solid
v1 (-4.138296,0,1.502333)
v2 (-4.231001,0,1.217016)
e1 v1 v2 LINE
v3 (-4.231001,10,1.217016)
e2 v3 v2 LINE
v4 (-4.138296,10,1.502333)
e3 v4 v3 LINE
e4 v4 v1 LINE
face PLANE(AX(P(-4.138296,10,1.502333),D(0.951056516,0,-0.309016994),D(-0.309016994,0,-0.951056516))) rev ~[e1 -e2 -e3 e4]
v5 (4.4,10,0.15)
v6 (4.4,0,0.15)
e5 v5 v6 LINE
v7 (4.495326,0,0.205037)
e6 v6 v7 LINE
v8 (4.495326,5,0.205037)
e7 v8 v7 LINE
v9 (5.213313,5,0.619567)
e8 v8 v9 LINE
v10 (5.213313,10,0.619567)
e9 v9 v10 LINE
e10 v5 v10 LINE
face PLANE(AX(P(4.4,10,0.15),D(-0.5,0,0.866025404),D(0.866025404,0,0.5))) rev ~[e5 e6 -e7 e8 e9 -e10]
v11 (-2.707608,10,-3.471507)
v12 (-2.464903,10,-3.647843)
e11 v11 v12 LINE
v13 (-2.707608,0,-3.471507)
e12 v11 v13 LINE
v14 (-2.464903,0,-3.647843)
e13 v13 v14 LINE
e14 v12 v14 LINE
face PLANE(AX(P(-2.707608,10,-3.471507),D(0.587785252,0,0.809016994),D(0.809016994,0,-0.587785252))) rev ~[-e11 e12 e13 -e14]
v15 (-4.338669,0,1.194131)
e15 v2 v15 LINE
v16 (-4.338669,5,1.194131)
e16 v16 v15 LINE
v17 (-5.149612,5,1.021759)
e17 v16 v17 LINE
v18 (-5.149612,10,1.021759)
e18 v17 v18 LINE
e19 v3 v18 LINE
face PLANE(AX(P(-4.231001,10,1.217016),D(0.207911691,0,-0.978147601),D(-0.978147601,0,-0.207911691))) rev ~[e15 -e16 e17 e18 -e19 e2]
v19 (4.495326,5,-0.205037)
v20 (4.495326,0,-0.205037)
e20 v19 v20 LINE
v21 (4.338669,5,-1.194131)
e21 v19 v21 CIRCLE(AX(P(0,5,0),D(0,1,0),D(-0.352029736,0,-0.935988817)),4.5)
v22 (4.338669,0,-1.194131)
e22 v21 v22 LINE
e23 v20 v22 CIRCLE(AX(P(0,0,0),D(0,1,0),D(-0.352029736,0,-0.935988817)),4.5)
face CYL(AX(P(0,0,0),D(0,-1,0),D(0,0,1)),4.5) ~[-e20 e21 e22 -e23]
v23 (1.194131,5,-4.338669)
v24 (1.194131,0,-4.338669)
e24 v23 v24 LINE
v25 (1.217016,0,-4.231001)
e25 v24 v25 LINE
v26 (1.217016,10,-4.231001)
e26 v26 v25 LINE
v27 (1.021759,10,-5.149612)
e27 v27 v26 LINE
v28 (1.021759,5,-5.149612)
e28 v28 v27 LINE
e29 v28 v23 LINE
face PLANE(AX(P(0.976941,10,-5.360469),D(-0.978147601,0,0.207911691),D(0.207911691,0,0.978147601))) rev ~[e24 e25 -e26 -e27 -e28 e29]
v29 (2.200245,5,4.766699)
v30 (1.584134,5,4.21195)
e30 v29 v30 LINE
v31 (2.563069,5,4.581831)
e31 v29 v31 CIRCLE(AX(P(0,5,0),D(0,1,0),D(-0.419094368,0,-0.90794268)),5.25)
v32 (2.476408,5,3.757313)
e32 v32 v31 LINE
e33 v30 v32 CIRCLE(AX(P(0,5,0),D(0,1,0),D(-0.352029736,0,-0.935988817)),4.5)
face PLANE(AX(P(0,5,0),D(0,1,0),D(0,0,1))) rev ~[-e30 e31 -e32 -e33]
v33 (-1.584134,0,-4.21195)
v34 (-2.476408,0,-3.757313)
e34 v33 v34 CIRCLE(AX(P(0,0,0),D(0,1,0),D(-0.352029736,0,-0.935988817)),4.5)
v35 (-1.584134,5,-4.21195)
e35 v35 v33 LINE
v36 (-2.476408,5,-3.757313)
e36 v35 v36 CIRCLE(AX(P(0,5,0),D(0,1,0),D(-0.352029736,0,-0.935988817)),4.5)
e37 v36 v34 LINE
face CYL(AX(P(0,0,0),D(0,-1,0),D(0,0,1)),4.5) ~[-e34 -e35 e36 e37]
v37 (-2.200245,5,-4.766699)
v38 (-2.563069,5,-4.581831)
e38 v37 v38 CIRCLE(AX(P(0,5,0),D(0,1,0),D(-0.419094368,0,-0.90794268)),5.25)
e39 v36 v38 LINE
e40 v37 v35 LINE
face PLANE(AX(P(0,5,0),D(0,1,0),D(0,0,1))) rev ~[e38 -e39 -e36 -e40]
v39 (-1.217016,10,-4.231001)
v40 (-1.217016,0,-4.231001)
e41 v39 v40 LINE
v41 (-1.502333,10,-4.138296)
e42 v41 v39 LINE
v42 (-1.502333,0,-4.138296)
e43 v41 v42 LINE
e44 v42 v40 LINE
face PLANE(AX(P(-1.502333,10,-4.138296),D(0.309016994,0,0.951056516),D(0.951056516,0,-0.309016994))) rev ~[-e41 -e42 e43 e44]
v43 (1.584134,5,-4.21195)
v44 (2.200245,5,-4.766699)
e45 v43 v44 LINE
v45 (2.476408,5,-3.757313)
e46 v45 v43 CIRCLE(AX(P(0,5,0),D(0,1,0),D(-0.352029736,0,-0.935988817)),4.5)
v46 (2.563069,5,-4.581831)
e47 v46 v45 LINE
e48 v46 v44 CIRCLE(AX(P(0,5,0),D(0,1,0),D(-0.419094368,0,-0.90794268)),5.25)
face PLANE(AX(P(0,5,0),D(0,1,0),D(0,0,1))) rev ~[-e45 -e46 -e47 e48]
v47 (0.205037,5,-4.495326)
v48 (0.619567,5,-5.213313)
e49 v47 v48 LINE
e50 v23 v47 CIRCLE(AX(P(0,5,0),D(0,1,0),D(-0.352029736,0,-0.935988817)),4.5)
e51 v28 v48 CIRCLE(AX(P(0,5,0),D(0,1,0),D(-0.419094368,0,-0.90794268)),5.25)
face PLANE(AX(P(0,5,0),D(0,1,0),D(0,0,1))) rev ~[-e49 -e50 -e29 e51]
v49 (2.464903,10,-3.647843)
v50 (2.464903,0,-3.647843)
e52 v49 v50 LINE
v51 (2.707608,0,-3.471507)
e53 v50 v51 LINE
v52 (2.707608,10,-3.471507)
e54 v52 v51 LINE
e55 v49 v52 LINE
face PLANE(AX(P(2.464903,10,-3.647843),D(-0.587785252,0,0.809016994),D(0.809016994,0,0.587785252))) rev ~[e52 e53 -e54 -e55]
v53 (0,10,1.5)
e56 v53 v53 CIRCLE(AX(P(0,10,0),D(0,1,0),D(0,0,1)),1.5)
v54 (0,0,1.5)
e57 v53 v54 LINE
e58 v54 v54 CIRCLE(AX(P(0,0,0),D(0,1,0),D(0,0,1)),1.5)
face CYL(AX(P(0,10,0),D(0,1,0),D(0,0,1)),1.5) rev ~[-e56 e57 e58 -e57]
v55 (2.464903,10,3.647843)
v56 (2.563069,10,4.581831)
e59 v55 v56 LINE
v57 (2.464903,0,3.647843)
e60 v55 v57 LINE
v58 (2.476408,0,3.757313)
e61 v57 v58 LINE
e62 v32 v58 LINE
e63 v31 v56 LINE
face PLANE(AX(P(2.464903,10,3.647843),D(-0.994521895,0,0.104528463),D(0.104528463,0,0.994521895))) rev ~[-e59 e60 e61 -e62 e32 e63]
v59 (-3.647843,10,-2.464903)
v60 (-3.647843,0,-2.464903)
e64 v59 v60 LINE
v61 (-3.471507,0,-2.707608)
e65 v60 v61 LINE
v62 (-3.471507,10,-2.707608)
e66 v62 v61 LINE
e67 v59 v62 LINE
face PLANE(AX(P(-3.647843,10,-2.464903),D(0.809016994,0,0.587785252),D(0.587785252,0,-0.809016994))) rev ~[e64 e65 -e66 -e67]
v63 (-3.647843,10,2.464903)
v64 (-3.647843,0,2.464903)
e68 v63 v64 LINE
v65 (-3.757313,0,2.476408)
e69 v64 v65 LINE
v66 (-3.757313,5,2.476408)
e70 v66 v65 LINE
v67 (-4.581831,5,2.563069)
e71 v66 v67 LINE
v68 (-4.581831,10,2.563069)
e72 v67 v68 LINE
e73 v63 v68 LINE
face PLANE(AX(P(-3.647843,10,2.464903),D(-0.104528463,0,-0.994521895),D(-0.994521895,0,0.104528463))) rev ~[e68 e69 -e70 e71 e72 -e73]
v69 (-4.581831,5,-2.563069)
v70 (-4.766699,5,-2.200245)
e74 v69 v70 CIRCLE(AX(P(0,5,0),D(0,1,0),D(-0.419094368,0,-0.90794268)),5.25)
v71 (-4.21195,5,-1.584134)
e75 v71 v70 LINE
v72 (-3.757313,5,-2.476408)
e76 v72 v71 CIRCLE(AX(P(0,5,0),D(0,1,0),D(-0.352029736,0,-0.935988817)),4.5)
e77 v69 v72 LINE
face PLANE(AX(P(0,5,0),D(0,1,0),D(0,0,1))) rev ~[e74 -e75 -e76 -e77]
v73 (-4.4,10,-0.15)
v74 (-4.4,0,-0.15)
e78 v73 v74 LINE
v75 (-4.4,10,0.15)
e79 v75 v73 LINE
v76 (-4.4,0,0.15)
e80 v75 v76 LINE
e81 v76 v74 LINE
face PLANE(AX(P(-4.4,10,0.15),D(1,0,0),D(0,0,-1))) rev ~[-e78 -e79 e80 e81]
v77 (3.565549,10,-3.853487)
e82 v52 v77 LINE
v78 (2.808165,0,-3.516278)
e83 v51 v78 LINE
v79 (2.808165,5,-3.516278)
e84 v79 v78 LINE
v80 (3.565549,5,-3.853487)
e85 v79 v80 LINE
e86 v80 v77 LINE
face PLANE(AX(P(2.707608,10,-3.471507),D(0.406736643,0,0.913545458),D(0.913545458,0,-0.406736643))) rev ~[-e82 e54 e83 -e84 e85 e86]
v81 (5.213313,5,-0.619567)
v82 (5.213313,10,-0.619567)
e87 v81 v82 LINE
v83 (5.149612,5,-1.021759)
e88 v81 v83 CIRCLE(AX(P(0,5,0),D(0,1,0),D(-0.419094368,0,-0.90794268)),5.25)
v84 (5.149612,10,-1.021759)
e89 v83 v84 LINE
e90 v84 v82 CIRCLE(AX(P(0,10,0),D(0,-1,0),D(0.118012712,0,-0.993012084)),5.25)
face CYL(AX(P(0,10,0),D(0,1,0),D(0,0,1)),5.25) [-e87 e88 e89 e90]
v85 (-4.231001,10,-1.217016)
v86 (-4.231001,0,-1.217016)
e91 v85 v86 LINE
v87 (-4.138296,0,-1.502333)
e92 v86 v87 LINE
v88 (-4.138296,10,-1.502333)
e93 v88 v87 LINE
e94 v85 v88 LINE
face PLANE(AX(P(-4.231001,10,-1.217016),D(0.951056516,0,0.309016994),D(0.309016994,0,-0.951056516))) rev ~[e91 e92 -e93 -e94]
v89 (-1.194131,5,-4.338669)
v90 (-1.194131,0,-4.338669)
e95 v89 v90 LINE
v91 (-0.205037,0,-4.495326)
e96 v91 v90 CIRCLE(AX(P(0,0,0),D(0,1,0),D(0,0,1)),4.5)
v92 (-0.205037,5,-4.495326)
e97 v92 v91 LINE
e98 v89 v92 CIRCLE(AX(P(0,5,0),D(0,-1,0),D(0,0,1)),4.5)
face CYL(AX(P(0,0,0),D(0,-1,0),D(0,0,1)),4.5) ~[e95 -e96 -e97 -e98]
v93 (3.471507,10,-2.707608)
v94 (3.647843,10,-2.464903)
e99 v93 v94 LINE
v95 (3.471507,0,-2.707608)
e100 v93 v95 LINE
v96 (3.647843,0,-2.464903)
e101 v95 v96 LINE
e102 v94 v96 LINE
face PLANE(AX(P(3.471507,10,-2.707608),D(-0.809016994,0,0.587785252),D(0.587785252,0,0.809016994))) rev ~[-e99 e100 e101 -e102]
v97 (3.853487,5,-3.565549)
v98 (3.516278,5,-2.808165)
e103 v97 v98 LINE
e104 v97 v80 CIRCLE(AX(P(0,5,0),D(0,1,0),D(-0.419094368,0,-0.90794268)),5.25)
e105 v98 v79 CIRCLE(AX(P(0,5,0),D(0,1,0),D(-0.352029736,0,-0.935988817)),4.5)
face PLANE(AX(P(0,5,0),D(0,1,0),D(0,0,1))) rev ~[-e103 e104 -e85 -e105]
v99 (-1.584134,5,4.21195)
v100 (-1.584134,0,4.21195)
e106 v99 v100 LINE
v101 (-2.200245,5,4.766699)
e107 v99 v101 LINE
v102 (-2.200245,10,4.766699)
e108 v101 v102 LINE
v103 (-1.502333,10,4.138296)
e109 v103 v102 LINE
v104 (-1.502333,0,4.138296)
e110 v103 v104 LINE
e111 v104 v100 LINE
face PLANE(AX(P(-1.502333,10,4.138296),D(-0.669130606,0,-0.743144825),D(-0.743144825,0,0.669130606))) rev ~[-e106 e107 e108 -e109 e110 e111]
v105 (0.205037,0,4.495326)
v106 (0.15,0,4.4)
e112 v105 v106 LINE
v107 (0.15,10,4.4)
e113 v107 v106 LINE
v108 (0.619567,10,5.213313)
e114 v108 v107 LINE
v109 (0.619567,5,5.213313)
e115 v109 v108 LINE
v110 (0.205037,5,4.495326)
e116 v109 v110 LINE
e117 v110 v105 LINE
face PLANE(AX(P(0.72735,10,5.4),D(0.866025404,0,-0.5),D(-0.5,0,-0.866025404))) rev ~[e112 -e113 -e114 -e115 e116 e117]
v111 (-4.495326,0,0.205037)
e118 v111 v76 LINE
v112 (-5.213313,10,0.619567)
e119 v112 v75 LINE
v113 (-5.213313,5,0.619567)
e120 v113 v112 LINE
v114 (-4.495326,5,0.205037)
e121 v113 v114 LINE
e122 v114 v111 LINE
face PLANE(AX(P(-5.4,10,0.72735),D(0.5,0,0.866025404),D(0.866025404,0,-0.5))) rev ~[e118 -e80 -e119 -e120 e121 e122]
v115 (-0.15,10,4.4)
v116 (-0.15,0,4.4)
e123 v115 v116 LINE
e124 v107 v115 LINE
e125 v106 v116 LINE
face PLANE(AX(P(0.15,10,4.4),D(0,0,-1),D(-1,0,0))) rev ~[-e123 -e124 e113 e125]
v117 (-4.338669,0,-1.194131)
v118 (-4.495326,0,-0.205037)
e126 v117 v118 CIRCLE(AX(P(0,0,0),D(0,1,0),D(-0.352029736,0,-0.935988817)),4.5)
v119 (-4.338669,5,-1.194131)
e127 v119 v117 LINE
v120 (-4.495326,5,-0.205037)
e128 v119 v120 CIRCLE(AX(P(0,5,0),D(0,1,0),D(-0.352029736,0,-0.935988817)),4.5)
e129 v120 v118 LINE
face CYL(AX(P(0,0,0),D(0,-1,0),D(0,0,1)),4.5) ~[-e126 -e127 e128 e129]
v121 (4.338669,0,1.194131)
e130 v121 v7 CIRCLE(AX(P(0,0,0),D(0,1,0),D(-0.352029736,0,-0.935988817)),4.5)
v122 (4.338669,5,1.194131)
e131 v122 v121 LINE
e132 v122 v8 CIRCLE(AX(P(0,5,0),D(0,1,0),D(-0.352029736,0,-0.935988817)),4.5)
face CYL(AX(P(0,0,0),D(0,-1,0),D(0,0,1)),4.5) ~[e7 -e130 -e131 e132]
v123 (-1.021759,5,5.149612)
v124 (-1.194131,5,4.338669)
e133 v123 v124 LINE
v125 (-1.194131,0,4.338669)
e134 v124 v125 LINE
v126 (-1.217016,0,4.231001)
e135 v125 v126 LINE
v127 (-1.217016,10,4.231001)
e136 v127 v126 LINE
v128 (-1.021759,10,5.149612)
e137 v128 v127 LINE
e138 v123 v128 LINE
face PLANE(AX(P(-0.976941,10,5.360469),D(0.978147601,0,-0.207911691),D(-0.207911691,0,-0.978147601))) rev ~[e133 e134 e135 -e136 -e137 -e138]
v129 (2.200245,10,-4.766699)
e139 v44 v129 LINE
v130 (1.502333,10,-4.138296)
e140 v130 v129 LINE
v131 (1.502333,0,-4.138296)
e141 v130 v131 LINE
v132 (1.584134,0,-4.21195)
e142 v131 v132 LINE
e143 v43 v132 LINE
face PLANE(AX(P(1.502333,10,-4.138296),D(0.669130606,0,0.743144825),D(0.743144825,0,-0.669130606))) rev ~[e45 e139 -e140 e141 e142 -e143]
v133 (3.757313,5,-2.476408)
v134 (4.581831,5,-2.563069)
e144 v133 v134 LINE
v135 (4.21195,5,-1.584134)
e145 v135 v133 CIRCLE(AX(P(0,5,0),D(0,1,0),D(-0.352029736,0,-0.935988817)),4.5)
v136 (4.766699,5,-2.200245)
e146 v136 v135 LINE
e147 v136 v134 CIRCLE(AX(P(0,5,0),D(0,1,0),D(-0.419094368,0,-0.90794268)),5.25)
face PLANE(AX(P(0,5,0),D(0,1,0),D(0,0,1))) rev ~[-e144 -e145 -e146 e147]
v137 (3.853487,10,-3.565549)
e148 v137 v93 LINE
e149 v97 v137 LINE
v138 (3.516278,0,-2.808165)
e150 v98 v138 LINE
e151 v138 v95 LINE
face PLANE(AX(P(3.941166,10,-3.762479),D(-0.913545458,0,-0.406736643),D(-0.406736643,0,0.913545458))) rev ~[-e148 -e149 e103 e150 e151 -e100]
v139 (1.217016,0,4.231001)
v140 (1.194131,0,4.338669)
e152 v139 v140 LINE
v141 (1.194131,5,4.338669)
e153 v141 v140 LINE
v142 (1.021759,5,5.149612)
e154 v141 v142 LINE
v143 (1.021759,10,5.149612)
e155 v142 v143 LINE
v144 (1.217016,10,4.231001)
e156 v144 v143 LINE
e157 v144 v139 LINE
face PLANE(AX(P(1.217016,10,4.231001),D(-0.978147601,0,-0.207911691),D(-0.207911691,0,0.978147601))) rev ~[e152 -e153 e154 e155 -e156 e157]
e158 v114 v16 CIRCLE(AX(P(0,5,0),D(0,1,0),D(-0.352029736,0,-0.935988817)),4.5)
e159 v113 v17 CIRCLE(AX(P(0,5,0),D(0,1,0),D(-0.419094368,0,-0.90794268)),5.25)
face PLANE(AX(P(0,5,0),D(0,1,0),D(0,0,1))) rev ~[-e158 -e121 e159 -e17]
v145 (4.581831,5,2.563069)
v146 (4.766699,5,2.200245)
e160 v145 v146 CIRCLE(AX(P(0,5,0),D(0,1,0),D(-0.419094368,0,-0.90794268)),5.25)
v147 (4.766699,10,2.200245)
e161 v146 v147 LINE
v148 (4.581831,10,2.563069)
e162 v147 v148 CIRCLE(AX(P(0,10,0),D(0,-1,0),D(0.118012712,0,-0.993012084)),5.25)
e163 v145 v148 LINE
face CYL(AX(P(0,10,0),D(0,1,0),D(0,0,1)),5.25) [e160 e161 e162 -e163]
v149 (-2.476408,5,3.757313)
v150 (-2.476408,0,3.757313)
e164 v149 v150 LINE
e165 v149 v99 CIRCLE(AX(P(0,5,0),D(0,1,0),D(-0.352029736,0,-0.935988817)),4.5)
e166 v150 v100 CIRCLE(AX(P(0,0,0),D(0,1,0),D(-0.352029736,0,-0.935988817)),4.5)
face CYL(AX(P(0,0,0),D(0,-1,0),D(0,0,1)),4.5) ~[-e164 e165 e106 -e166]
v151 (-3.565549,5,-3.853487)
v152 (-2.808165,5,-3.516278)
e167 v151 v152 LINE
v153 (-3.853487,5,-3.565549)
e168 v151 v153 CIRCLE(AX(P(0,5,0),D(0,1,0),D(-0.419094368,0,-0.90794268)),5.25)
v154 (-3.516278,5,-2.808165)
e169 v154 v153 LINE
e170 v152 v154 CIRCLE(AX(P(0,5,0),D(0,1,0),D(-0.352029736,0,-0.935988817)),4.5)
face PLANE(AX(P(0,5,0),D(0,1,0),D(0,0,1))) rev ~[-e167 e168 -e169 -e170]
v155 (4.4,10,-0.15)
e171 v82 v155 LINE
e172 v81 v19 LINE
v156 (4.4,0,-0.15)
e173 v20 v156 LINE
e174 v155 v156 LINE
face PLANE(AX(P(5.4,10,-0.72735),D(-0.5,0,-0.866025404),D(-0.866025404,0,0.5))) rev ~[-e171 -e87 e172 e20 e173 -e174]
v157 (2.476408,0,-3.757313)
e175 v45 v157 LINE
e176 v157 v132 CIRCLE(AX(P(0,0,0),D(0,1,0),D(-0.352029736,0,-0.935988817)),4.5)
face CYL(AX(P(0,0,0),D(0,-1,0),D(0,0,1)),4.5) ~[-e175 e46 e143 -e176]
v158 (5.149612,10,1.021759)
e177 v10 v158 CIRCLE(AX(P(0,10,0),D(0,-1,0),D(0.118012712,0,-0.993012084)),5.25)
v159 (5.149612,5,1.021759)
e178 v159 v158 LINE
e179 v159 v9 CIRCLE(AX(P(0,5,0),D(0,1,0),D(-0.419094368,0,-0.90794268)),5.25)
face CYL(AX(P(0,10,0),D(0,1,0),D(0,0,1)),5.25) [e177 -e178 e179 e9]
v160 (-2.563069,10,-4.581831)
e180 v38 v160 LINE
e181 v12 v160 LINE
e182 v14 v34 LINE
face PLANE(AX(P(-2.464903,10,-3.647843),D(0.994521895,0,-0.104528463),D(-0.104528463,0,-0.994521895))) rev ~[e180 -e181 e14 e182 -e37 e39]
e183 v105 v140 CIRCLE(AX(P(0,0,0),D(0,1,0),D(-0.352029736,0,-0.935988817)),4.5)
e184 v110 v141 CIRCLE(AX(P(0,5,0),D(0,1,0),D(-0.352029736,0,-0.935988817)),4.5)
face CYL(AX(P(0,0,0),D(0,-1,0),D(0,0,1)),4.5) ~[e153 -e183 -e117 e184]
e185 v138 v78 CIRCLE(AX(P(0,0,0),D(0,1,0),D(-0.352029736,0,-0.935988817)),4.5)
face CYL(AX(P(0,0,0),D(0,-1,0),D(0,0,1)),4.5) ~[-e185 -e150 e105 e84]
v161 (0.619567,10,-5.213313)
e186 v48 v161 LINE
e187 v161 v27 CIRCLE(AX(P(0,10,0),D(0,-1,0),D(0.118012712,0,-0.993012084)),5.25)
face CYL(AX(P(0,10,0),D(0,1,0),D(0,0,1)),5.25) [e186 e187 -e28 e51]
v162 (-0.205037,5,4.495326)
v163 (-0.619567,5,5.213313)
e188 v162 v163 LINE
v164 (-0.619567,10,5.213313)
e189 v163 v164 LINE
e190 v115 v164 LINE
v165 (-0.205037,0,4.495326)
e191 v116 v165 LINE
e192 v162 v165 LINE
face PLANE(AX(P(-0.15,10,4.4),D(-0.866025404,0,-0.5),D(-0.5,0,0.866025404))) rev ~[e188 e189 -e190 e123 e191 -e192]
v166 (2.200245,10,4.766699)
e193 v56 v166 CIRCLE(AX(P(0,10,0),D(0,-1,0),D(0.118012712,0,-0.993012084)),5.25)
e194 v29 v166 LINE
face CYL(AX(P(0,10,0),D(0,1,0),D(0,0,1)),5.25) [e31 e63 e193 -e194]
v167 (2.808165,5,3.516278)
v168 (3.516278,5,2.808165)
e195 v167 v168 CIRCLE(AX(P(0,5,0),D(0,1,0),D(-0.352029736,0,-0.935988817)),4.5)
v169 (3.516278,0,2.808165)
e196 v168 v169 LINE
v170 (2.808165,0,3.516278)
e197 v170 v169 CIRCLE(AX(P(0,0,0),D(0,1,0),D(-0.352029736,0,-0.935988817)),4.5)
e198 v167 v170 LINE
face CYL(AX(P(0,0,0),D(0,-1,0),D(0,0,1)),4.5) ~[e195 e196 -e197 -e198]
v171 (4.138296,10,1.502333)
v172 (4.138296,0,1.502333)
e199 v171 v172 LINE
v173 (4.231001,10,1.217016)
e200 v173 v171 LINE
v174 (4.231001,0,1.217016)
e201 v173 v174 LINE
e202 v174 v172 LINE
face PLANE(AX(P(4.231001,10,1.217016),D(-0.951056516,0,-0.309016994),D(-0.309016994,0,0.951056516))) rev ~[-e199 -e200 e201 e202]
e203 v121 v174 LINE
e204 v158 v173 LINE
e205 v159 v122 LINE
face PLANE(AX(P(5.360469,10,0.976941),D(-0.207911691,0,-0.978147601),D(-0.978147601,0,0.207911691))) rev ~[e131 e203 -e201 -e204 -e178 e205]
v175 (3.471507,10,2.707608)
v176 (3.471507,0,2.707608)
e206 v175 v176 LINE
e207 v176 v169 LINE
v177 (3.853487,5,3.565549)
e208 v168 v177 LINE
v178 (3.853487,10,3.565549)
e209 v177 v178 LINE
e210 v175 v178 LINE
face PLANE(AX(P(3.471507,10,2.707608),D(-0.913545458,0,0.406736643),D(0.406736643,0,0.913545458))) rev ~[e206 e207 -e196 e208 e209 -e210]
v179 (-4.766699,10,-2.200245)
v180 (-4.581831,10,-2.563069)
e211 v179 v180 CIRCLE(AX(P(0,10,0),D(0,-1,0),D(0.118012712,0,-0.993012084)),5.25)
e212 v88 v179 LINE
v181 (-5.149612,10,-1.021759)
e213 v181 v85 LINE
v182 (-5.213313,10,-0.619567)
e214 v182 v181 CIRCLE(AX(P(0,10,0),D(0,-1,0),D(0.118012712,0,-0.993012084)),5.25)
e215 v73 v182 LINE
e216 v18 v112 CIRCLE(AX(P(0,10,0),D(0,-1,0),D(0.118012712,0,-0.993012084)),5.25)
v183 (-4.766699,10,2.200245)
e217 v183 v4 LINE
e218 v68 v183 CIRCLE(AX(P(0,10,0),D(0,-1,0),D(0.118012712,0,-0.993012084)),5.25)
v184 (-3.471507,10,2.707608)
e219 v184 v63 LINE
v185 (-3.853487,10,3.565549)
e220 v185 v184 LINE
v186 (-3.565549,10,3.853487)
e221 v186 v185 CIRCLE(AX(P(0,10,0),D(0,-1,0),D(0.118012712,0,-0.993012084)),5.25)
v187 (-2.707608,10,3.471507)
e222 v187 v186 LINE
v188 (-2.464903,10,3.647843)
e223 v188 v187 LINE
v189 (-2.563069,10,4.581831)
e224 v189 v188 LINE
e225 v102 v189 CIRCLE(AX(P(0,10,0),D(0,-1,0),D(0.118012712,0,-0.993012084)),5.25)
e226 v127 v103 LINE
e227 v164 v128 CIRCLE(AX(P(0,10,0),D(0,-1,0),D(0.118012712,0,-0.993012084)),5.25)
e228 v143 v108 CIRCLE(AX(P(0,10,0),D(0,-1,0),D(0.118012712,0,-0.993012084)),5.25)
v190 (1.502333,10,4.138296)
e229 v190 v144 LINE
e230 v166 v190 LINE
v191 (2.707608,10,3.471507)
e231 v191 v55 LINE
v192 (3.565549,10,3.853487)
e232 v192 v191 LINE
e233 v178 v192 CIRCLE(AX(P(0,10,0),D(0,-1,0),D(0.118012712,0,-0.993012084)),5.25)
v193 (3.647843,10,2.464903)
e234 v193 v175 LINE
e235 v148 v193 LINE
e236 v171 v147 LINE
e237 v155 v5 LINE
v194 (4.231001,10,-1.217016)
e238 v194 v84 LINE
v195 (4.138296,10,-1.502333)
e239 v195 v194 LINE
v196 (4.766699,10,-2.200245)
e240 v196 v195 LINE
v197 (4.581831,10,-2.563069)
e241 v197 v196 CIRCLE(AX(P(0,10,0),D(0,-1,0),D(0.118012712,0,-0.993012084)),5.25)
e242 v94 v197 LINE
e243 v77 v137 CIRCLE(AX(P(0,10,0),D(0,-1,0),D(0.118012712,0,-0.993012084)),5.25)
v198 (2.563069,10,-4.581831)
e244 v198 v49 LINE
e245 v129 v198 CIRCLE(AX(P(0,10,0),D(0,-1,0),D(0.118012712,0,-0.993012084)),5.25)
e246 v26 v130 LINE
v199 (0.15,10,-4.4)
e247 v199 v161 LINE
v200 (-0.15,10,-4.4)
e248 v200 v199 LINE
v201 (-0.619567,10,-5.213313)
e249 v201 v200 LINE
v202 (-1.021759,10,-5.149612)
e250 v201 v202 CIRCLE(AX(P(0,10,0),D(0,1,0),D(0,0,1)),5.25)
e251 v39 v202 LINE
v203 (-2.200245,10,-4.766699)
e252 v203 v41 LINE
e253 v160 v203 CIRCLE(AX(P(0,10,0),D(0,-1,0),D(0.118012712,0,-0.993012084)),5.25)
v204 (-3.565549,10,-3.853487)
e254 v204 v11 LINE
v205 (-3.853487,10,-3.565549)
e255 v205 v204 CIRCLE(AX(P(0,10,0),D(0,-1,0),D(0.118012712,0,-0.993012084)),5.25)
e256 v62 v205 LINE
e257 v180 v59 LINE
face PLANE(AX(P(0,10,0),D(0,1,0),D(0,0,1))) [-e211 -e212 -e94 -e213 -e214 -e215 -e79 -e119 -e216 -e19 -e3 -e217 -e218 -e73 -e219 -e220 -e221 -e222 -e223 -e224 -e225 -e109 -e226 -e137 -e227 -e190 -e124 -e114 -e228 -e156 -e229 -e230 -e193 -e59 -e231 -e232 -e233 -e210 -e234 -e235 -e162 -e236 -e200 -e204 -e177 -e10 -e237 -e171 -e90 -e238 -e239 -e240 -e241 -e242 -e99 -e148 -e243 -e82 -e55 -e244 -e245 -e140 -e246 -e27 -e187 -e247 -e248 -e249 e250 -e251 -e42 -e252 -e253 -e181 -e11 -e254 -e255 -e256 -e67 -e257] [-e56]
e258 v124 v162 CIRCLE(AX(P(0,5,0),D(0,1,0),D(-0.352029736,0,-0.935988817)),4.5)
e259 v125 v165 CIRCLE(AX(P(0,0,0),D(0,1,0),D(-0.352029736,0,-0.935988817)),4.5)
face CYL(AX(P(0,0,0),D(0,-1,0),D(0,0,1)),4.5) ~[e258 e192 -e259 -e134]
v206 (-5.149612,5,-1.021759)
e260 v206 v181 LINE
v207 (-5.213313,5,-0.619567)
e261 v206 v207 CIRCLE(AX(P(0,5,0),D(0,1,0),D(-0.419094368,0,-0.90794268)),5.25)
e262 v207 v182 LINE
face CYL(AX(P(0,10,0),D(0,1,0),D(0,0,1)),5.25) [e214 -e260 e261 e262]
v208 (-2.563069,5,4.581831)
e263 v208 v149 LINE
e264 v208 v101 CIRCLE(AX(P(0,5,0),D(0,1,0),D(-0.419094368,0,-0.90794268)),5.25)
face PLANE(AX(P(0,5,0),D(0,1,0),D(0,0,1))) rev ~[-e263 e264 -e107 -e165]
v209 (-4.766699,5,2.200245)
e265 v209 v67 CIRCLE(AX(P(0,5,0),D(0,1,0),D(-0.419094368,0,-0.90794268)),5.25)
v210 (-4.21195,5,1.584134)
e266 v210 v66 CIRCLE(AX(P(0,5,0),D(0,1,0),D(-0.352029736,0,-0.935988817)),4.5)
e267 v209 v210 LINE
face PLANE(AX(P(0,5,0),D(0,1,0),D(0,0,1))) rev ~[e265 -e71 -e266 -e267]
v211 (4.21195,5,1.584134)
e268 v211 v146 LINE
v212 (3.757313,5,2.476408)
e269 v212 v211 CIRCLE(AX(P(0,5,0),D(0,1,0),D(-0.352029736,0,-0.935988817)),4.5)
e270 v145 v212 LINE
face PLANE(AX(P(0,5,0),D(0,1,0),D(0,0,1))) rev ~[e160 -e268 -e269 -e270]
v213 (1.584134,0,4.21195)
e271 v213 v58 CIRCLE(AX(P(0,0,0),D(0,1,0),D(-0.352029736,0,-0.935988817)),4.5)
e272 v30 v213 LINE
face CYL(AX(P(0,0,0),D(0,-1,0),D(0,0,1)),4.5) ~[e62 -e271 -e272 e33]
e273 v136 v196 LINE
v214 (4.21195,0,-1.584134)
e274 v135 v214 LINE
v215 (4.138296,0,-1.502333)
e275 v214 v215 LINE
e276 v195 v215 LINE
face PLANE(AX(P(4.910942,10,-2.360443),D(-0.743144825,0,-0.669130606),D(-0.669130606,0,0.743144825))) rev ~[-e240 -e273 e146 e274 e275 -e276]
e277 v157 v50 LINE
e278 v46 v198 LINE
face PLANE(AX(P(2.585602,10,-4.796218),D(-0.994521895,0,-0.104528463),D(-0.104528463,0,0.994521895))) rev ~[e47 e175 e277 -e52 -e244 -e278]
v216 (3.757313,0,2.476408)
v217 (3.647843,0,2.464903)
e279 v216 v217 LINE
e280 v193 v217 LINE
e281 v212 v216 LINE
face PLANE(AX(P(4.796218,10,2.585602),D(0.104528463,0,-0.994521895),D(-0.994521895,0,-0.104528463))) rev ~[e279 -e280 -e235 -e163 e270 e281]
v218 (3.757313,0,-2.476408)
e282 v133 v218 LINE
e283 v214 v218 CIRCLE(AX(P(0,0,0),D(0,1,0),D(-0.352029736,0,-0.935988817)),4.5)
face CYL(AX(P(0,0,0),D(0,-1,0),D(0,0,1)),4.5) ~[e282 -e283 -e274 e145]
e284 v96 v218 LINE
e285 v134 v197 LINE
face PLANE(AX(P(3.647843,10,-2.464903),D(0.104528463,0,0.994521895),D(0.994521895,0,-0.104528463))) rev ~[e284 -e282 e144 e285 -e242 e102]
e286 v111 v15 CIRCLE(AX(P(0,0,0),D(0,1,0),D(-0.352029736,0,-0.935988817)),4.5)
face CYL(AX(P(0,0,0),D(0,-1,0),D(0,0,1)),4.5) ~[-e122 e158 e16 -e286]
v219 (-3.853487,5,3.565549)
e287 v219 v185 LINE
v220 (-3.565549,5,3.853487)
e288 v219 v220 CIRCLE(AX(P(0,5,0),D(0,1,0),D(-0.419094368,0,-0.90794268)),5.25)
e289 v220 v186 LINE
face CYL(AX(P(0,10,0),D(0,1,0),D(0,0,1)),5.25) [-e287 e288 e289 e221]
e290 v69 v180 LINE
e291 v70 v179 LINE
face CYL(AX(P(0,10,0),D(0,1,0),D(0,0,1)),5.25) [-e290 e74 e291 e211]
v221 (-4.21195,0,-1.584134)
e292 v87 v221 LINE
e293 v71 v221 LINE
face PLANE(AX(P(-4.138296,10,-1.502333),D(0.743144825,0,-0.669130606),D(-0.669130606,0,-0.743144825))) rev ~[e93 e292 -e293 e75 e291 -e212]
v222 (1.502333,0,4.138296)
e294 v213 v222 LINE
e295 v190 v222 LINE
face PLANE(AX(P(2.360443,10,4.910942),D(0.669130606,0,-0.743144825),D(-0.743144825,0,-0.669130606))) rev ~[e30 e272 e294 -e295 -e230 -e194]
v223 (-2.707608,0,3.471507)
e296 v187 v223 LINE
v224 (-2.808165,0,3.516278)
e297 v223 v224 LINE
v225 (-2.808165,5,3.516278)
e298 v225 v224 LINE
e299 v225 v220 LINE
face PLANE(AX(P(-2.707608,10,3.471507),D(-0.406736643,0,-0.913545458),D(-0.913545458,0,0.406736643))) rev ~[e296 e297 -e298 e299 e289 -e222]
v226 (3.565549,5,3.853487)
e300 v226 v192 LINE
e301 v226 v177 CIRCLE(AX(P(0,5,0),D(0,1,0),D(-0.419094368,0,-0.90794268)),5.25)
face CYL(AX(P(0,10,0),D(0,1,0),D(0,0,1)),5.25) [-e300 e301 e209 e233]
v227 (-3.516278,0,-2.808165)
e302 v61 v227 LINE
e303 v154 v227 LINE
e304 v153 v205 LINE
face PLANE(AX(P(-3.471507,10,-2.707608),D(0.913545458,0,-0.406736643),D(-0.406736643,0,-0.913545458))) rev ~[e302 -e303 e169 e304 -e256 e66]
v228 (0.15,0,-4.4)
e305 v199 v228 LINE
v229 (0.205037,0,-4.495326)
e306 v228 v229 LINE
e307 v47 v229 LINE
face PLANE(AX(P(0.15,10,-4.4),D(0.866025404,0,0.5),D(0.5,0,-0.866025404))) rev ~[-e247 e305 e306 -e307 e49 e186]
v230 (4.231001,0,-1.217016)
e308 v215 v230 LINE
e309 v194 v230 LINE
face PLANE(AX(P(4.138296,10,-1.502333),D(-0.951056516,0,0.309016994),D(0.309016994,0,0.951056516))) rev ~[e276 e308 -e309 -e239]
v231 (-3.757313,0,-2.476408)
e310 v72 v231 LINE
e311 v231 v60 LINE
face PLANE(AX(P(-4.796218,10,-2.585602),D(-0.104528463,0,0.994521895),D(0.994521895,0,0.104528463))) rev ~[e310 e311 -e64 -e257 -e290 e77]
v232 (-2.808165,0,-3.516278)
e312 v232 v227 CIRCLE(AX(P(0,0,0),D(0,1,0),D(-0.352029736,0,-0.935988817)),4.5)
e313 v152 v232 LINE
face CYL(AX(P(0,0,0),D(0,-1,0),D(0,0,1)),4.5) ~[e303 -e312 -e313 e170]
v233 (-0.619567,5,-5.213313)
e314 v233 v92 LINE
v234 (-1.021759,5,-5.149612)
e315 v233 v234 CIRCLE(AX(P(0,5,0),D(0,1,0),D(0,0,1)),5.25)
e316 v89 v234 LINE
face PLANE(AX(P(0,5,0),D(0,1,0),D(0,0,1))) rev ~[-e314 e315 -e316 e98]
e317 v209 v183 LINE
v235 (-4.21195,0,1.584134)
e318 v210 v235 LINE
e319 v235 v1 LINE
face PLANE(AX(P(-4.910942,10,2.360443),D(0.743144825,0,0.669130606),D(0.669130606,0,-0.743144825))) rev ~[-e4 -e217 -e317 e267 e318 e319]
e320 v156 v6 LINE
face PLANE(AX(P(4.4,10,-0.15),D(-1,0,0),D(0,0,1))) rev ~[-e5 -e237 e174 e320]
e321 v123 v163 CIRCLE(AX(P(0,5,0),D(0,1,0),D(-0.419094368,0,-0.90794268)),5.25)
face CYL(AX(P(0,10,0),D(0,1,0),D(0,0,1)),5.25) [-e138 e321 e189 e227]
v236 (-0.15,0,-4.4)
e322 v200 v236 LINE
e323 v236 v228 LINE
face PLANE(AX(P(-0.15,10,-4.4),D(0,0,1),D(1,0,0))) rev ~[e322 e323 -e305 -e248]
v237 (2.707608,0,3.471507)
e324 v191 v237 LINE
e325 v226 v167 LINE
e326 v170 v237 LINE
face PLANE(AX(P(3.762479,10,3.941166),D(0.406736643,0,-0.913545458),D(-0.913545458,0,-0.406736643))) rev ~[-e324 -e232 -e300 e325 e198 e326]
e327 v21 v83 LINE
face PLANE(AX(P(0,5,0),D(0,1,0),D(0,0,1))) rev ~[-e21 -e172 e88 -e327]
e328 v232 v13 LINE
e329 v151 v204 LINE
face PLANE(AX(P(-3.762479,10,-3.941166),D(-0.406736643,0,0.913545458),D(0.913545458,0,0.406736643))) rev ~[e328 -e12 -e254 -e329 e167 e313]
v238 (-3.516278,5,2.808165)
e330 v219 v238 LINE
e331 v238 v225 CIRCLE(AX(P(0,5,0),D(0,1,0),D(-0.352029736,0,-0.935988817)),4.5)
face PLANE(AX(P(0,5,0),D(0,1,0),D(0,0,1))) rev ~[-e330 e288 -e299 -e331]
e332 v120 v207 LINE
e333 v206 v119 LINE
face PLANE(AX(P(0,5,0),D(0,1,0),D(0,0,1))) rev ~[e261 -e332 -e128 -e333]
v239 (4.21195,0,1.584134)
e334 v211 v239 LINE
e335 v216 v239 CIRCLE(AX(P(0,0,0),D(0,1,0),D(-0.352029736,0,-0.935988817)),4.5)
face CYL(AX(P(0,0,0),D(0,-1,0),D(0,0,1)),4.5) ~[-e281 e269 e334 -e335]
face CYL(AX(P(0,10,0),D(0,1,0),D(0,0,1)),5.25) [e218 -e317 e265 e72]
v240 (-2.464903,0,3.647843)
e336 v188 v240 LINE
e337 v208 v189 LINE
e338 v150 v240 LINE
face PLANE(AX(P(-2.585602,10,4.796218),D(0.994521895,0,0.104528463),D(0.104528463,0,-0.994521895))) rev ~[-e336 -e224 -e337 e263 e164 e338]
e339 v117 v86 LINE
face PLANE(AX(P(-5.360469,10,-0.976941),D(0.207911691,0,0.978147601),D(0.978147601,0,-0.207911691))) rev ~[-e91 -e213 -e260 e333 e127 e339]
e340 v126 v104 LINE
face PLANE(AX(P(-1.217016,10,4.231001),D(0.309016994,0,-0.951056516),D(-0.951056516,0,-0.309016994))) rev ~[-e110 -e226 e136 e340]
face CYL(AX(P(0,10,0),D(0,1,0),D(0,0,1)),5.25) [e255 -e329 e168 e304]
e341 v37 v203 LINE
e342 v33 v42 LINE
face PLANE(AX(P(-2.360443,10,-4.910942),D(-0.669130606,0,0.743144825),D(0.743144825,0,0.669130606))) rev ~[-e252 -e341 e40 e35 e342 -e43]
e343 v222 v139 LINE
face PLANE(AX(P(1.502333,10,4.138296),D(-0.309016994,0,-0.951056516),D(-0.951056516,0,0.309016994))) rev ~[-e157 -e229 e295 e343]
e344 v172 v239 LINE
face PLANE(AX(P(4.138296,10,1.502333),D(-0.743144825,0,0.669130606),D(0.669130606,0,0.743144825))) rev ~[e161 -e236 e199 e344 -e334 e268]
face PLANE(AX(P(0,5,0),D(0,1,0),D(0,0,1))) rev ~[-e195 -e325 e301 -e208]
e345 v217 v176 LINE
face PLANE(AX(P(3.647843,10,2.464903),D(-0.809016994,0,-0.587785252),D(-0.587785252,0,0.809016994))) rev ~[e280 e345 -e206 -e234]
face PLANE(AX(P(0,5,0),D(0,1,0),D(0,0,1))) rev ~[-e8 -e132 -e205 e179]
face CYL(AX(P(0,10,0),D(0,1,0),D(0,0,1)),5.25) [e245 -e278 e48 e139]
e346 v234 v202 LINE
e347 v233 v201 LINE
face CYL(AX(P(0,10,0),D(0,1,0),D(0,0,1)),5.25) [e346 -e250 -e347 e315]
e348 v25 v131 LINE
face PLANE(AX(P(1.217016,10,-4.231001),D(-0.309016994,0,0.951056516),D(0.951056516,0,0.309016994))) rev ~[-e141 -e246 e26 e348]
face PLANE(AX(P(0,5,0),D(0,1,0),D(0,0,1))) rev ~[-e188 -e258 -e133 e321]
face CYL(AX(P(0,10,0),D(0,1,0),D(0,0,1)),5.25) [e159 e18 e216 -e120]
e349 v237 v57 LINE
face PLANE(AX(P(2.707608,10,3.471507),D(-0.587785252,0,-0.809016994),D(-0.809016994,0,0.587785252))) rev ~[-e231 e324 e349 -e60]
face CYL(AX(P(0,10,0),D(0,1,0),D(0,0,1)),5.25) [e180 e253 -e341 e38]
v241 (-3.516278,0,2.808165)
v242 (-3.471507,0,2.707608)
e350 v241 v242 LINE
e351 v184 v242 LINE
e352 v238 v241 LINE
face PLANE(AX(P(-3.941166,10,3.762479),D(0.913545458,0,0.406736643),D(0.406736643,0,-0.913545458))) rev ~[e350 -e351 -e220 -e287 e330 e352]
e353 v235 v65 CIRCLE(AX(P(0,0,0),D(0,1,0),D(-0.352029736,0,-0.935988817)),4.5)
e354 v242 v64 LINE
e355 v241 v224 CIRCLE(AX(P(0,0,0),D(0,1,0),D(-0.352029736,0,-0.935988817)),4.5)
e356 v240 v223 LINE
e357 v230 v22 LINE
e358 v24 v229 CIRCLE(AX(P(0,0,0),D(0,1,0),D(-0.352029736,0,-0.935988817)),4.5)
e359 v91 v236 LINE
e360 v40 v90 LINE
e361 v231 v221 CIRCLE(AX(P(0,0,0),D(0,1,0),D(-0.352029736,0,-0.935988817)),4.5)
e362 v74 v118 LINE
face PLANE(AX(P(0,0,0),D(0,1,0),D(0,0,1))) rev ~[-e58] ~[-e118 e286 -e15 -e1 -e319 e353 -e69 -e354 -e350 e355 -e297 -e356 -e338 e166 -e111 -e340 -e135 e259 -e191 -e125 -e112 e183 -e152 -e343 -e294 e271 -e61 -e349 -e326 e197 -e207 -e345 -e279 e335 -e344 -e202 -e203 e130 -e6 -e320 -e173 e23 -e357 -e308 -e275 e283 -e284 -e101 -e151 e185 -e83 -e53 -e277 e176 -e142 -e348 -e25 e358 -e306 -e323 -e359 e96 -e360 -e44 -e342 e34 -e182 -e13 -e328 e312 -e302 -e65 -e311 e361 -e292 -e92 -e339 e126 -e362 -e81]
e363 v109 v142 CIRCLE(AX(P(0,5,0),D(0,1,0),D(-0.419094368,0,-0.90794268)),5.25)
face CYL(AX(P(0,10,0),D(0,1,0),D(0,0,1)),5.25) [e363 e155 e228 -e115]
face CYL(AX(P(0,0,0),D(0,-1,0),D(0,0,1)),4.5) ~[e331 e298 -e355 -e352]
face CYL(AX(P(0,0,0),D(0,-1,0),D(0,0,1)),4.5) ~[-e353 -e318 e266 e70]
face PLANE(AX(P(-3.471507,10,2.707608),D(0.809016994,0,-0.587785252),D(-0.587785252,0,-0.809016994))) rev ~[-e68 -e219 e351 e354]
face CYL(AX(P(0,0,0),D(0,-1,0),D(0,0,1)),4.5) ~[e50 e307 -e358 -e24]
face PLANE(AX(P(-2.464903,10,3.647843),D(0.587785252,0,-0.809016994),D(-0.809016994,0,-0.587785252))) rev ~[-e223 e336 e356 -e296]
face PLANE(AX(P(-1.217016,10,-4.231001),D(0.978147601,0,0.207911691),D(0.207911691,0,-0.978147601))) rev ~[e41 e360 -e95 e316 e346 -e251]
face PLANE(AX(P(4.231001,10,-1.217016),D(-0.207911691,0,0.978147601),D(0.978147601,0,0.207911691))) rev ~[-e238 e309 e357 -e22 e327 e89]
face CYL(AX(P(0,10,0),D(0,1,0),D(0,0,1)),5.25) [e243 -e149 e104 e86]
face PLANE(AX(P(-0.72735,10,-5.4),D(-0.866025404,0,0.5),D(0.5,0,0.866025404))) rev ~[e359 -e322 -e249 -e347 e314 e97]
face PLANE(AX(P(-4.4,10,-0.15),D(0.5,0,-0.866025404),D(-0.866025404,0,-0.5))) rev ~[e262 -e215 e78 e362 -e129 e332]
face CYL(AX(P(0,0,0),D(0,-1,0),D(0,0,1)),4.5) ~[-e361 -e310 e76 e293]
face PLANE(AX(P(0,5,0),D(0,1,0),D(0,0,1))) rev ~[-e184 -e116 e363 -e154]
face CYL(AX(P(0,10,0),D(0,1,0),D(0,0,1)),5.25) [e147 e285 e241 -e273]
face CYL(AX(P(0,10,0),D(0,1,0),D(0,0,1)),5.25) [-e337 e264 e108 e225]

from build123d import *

# Parameters (mm, degrees)
SKETCH_1_R               = 4.5
EXTRUDE_1_DEPTH          = 10
SKETCH_2_R               = 5.25
EXTRUDE_2_DEPTH          = 5
CUT_EXTRUDE_3_DEPTH      = 10
PATTERN_CIRCULAR_2_COUNT = 20
SKETCH_5_R               = 1.5
CUT_EXTRUDE_4_DEPTH      = 10


with BuildPart() as part:
    # 스케치1 → 보스-돌출1 (new body)
    with BuildSketch(Plane(origin=(0, 0, 0), x_dir=(1, 0, 0), z_dir=(0, 1, 0))):
        with Locations(Location((0, 0, 0), (0, 0, 270))):
            Circle(SKETCH_1_R)
    extrude(amount=EXTRUDE_1_DEPTH)

    # 스케치2 → 보스-돌출2 (add)
    with BuildSketch(Plane(origin=(0, 10, 0), x_dir=(1, 0, 0), z_dir=(0, 1, 0))):
        with Locations(Location((0, 0, 0), (0, 0, 270))):
            Circle(SKETCH_2_R)
    extrude(amount=-EXTRUDE_2_DEPTH)

    # 스케치4 → 컷-돌출3 (cut)
    with BuildSketch(Plane(origin=(0, 10, 0), x_dir=(1, 0, 0), z_dir=(0, 1, 0))):
        Polygon((0, 4.4), (0.15, 4.4), (0.727350269, 5.4), (-0.727350269, 5.4), (-0.15, 4.4), align=None)
    cut_extrude_3 = extrude(amount=-CUT_EXTRUDE_3_DEPTH, mode=Mode.SUBTRACT)

    # 원형 패턴2: 컷-돌출3 ×20 about axis
    pattern_circular_2_axis = Axis((0, 0, 0), (0, 1, 0))
    for i in range(1, PATTERN_CIRCULAR_2_COUNT):
        add(cut_extrude_3.rotate(pattern_circular_2_axis, i * 360 / PATTERN_CIRCULAR_2_COUNT), mode=Mode.SUBTRACT)

    # 스케치5 → 컷-돌출4 (cut)
    with BuildSketch(Plane(origin=(0, 10, 0), x_dir=(1, 0, 0), z_dir=(0, 1, 0))):
        with Locations(Location((0, 0, 0), (0, 0, 270))):
            Circle(SKETCH_5_R)
    extrude(amount=-CUT_EXTRUDE_4_DEPTH, mode=Mode.SUBTRACT)


solid = part.part
